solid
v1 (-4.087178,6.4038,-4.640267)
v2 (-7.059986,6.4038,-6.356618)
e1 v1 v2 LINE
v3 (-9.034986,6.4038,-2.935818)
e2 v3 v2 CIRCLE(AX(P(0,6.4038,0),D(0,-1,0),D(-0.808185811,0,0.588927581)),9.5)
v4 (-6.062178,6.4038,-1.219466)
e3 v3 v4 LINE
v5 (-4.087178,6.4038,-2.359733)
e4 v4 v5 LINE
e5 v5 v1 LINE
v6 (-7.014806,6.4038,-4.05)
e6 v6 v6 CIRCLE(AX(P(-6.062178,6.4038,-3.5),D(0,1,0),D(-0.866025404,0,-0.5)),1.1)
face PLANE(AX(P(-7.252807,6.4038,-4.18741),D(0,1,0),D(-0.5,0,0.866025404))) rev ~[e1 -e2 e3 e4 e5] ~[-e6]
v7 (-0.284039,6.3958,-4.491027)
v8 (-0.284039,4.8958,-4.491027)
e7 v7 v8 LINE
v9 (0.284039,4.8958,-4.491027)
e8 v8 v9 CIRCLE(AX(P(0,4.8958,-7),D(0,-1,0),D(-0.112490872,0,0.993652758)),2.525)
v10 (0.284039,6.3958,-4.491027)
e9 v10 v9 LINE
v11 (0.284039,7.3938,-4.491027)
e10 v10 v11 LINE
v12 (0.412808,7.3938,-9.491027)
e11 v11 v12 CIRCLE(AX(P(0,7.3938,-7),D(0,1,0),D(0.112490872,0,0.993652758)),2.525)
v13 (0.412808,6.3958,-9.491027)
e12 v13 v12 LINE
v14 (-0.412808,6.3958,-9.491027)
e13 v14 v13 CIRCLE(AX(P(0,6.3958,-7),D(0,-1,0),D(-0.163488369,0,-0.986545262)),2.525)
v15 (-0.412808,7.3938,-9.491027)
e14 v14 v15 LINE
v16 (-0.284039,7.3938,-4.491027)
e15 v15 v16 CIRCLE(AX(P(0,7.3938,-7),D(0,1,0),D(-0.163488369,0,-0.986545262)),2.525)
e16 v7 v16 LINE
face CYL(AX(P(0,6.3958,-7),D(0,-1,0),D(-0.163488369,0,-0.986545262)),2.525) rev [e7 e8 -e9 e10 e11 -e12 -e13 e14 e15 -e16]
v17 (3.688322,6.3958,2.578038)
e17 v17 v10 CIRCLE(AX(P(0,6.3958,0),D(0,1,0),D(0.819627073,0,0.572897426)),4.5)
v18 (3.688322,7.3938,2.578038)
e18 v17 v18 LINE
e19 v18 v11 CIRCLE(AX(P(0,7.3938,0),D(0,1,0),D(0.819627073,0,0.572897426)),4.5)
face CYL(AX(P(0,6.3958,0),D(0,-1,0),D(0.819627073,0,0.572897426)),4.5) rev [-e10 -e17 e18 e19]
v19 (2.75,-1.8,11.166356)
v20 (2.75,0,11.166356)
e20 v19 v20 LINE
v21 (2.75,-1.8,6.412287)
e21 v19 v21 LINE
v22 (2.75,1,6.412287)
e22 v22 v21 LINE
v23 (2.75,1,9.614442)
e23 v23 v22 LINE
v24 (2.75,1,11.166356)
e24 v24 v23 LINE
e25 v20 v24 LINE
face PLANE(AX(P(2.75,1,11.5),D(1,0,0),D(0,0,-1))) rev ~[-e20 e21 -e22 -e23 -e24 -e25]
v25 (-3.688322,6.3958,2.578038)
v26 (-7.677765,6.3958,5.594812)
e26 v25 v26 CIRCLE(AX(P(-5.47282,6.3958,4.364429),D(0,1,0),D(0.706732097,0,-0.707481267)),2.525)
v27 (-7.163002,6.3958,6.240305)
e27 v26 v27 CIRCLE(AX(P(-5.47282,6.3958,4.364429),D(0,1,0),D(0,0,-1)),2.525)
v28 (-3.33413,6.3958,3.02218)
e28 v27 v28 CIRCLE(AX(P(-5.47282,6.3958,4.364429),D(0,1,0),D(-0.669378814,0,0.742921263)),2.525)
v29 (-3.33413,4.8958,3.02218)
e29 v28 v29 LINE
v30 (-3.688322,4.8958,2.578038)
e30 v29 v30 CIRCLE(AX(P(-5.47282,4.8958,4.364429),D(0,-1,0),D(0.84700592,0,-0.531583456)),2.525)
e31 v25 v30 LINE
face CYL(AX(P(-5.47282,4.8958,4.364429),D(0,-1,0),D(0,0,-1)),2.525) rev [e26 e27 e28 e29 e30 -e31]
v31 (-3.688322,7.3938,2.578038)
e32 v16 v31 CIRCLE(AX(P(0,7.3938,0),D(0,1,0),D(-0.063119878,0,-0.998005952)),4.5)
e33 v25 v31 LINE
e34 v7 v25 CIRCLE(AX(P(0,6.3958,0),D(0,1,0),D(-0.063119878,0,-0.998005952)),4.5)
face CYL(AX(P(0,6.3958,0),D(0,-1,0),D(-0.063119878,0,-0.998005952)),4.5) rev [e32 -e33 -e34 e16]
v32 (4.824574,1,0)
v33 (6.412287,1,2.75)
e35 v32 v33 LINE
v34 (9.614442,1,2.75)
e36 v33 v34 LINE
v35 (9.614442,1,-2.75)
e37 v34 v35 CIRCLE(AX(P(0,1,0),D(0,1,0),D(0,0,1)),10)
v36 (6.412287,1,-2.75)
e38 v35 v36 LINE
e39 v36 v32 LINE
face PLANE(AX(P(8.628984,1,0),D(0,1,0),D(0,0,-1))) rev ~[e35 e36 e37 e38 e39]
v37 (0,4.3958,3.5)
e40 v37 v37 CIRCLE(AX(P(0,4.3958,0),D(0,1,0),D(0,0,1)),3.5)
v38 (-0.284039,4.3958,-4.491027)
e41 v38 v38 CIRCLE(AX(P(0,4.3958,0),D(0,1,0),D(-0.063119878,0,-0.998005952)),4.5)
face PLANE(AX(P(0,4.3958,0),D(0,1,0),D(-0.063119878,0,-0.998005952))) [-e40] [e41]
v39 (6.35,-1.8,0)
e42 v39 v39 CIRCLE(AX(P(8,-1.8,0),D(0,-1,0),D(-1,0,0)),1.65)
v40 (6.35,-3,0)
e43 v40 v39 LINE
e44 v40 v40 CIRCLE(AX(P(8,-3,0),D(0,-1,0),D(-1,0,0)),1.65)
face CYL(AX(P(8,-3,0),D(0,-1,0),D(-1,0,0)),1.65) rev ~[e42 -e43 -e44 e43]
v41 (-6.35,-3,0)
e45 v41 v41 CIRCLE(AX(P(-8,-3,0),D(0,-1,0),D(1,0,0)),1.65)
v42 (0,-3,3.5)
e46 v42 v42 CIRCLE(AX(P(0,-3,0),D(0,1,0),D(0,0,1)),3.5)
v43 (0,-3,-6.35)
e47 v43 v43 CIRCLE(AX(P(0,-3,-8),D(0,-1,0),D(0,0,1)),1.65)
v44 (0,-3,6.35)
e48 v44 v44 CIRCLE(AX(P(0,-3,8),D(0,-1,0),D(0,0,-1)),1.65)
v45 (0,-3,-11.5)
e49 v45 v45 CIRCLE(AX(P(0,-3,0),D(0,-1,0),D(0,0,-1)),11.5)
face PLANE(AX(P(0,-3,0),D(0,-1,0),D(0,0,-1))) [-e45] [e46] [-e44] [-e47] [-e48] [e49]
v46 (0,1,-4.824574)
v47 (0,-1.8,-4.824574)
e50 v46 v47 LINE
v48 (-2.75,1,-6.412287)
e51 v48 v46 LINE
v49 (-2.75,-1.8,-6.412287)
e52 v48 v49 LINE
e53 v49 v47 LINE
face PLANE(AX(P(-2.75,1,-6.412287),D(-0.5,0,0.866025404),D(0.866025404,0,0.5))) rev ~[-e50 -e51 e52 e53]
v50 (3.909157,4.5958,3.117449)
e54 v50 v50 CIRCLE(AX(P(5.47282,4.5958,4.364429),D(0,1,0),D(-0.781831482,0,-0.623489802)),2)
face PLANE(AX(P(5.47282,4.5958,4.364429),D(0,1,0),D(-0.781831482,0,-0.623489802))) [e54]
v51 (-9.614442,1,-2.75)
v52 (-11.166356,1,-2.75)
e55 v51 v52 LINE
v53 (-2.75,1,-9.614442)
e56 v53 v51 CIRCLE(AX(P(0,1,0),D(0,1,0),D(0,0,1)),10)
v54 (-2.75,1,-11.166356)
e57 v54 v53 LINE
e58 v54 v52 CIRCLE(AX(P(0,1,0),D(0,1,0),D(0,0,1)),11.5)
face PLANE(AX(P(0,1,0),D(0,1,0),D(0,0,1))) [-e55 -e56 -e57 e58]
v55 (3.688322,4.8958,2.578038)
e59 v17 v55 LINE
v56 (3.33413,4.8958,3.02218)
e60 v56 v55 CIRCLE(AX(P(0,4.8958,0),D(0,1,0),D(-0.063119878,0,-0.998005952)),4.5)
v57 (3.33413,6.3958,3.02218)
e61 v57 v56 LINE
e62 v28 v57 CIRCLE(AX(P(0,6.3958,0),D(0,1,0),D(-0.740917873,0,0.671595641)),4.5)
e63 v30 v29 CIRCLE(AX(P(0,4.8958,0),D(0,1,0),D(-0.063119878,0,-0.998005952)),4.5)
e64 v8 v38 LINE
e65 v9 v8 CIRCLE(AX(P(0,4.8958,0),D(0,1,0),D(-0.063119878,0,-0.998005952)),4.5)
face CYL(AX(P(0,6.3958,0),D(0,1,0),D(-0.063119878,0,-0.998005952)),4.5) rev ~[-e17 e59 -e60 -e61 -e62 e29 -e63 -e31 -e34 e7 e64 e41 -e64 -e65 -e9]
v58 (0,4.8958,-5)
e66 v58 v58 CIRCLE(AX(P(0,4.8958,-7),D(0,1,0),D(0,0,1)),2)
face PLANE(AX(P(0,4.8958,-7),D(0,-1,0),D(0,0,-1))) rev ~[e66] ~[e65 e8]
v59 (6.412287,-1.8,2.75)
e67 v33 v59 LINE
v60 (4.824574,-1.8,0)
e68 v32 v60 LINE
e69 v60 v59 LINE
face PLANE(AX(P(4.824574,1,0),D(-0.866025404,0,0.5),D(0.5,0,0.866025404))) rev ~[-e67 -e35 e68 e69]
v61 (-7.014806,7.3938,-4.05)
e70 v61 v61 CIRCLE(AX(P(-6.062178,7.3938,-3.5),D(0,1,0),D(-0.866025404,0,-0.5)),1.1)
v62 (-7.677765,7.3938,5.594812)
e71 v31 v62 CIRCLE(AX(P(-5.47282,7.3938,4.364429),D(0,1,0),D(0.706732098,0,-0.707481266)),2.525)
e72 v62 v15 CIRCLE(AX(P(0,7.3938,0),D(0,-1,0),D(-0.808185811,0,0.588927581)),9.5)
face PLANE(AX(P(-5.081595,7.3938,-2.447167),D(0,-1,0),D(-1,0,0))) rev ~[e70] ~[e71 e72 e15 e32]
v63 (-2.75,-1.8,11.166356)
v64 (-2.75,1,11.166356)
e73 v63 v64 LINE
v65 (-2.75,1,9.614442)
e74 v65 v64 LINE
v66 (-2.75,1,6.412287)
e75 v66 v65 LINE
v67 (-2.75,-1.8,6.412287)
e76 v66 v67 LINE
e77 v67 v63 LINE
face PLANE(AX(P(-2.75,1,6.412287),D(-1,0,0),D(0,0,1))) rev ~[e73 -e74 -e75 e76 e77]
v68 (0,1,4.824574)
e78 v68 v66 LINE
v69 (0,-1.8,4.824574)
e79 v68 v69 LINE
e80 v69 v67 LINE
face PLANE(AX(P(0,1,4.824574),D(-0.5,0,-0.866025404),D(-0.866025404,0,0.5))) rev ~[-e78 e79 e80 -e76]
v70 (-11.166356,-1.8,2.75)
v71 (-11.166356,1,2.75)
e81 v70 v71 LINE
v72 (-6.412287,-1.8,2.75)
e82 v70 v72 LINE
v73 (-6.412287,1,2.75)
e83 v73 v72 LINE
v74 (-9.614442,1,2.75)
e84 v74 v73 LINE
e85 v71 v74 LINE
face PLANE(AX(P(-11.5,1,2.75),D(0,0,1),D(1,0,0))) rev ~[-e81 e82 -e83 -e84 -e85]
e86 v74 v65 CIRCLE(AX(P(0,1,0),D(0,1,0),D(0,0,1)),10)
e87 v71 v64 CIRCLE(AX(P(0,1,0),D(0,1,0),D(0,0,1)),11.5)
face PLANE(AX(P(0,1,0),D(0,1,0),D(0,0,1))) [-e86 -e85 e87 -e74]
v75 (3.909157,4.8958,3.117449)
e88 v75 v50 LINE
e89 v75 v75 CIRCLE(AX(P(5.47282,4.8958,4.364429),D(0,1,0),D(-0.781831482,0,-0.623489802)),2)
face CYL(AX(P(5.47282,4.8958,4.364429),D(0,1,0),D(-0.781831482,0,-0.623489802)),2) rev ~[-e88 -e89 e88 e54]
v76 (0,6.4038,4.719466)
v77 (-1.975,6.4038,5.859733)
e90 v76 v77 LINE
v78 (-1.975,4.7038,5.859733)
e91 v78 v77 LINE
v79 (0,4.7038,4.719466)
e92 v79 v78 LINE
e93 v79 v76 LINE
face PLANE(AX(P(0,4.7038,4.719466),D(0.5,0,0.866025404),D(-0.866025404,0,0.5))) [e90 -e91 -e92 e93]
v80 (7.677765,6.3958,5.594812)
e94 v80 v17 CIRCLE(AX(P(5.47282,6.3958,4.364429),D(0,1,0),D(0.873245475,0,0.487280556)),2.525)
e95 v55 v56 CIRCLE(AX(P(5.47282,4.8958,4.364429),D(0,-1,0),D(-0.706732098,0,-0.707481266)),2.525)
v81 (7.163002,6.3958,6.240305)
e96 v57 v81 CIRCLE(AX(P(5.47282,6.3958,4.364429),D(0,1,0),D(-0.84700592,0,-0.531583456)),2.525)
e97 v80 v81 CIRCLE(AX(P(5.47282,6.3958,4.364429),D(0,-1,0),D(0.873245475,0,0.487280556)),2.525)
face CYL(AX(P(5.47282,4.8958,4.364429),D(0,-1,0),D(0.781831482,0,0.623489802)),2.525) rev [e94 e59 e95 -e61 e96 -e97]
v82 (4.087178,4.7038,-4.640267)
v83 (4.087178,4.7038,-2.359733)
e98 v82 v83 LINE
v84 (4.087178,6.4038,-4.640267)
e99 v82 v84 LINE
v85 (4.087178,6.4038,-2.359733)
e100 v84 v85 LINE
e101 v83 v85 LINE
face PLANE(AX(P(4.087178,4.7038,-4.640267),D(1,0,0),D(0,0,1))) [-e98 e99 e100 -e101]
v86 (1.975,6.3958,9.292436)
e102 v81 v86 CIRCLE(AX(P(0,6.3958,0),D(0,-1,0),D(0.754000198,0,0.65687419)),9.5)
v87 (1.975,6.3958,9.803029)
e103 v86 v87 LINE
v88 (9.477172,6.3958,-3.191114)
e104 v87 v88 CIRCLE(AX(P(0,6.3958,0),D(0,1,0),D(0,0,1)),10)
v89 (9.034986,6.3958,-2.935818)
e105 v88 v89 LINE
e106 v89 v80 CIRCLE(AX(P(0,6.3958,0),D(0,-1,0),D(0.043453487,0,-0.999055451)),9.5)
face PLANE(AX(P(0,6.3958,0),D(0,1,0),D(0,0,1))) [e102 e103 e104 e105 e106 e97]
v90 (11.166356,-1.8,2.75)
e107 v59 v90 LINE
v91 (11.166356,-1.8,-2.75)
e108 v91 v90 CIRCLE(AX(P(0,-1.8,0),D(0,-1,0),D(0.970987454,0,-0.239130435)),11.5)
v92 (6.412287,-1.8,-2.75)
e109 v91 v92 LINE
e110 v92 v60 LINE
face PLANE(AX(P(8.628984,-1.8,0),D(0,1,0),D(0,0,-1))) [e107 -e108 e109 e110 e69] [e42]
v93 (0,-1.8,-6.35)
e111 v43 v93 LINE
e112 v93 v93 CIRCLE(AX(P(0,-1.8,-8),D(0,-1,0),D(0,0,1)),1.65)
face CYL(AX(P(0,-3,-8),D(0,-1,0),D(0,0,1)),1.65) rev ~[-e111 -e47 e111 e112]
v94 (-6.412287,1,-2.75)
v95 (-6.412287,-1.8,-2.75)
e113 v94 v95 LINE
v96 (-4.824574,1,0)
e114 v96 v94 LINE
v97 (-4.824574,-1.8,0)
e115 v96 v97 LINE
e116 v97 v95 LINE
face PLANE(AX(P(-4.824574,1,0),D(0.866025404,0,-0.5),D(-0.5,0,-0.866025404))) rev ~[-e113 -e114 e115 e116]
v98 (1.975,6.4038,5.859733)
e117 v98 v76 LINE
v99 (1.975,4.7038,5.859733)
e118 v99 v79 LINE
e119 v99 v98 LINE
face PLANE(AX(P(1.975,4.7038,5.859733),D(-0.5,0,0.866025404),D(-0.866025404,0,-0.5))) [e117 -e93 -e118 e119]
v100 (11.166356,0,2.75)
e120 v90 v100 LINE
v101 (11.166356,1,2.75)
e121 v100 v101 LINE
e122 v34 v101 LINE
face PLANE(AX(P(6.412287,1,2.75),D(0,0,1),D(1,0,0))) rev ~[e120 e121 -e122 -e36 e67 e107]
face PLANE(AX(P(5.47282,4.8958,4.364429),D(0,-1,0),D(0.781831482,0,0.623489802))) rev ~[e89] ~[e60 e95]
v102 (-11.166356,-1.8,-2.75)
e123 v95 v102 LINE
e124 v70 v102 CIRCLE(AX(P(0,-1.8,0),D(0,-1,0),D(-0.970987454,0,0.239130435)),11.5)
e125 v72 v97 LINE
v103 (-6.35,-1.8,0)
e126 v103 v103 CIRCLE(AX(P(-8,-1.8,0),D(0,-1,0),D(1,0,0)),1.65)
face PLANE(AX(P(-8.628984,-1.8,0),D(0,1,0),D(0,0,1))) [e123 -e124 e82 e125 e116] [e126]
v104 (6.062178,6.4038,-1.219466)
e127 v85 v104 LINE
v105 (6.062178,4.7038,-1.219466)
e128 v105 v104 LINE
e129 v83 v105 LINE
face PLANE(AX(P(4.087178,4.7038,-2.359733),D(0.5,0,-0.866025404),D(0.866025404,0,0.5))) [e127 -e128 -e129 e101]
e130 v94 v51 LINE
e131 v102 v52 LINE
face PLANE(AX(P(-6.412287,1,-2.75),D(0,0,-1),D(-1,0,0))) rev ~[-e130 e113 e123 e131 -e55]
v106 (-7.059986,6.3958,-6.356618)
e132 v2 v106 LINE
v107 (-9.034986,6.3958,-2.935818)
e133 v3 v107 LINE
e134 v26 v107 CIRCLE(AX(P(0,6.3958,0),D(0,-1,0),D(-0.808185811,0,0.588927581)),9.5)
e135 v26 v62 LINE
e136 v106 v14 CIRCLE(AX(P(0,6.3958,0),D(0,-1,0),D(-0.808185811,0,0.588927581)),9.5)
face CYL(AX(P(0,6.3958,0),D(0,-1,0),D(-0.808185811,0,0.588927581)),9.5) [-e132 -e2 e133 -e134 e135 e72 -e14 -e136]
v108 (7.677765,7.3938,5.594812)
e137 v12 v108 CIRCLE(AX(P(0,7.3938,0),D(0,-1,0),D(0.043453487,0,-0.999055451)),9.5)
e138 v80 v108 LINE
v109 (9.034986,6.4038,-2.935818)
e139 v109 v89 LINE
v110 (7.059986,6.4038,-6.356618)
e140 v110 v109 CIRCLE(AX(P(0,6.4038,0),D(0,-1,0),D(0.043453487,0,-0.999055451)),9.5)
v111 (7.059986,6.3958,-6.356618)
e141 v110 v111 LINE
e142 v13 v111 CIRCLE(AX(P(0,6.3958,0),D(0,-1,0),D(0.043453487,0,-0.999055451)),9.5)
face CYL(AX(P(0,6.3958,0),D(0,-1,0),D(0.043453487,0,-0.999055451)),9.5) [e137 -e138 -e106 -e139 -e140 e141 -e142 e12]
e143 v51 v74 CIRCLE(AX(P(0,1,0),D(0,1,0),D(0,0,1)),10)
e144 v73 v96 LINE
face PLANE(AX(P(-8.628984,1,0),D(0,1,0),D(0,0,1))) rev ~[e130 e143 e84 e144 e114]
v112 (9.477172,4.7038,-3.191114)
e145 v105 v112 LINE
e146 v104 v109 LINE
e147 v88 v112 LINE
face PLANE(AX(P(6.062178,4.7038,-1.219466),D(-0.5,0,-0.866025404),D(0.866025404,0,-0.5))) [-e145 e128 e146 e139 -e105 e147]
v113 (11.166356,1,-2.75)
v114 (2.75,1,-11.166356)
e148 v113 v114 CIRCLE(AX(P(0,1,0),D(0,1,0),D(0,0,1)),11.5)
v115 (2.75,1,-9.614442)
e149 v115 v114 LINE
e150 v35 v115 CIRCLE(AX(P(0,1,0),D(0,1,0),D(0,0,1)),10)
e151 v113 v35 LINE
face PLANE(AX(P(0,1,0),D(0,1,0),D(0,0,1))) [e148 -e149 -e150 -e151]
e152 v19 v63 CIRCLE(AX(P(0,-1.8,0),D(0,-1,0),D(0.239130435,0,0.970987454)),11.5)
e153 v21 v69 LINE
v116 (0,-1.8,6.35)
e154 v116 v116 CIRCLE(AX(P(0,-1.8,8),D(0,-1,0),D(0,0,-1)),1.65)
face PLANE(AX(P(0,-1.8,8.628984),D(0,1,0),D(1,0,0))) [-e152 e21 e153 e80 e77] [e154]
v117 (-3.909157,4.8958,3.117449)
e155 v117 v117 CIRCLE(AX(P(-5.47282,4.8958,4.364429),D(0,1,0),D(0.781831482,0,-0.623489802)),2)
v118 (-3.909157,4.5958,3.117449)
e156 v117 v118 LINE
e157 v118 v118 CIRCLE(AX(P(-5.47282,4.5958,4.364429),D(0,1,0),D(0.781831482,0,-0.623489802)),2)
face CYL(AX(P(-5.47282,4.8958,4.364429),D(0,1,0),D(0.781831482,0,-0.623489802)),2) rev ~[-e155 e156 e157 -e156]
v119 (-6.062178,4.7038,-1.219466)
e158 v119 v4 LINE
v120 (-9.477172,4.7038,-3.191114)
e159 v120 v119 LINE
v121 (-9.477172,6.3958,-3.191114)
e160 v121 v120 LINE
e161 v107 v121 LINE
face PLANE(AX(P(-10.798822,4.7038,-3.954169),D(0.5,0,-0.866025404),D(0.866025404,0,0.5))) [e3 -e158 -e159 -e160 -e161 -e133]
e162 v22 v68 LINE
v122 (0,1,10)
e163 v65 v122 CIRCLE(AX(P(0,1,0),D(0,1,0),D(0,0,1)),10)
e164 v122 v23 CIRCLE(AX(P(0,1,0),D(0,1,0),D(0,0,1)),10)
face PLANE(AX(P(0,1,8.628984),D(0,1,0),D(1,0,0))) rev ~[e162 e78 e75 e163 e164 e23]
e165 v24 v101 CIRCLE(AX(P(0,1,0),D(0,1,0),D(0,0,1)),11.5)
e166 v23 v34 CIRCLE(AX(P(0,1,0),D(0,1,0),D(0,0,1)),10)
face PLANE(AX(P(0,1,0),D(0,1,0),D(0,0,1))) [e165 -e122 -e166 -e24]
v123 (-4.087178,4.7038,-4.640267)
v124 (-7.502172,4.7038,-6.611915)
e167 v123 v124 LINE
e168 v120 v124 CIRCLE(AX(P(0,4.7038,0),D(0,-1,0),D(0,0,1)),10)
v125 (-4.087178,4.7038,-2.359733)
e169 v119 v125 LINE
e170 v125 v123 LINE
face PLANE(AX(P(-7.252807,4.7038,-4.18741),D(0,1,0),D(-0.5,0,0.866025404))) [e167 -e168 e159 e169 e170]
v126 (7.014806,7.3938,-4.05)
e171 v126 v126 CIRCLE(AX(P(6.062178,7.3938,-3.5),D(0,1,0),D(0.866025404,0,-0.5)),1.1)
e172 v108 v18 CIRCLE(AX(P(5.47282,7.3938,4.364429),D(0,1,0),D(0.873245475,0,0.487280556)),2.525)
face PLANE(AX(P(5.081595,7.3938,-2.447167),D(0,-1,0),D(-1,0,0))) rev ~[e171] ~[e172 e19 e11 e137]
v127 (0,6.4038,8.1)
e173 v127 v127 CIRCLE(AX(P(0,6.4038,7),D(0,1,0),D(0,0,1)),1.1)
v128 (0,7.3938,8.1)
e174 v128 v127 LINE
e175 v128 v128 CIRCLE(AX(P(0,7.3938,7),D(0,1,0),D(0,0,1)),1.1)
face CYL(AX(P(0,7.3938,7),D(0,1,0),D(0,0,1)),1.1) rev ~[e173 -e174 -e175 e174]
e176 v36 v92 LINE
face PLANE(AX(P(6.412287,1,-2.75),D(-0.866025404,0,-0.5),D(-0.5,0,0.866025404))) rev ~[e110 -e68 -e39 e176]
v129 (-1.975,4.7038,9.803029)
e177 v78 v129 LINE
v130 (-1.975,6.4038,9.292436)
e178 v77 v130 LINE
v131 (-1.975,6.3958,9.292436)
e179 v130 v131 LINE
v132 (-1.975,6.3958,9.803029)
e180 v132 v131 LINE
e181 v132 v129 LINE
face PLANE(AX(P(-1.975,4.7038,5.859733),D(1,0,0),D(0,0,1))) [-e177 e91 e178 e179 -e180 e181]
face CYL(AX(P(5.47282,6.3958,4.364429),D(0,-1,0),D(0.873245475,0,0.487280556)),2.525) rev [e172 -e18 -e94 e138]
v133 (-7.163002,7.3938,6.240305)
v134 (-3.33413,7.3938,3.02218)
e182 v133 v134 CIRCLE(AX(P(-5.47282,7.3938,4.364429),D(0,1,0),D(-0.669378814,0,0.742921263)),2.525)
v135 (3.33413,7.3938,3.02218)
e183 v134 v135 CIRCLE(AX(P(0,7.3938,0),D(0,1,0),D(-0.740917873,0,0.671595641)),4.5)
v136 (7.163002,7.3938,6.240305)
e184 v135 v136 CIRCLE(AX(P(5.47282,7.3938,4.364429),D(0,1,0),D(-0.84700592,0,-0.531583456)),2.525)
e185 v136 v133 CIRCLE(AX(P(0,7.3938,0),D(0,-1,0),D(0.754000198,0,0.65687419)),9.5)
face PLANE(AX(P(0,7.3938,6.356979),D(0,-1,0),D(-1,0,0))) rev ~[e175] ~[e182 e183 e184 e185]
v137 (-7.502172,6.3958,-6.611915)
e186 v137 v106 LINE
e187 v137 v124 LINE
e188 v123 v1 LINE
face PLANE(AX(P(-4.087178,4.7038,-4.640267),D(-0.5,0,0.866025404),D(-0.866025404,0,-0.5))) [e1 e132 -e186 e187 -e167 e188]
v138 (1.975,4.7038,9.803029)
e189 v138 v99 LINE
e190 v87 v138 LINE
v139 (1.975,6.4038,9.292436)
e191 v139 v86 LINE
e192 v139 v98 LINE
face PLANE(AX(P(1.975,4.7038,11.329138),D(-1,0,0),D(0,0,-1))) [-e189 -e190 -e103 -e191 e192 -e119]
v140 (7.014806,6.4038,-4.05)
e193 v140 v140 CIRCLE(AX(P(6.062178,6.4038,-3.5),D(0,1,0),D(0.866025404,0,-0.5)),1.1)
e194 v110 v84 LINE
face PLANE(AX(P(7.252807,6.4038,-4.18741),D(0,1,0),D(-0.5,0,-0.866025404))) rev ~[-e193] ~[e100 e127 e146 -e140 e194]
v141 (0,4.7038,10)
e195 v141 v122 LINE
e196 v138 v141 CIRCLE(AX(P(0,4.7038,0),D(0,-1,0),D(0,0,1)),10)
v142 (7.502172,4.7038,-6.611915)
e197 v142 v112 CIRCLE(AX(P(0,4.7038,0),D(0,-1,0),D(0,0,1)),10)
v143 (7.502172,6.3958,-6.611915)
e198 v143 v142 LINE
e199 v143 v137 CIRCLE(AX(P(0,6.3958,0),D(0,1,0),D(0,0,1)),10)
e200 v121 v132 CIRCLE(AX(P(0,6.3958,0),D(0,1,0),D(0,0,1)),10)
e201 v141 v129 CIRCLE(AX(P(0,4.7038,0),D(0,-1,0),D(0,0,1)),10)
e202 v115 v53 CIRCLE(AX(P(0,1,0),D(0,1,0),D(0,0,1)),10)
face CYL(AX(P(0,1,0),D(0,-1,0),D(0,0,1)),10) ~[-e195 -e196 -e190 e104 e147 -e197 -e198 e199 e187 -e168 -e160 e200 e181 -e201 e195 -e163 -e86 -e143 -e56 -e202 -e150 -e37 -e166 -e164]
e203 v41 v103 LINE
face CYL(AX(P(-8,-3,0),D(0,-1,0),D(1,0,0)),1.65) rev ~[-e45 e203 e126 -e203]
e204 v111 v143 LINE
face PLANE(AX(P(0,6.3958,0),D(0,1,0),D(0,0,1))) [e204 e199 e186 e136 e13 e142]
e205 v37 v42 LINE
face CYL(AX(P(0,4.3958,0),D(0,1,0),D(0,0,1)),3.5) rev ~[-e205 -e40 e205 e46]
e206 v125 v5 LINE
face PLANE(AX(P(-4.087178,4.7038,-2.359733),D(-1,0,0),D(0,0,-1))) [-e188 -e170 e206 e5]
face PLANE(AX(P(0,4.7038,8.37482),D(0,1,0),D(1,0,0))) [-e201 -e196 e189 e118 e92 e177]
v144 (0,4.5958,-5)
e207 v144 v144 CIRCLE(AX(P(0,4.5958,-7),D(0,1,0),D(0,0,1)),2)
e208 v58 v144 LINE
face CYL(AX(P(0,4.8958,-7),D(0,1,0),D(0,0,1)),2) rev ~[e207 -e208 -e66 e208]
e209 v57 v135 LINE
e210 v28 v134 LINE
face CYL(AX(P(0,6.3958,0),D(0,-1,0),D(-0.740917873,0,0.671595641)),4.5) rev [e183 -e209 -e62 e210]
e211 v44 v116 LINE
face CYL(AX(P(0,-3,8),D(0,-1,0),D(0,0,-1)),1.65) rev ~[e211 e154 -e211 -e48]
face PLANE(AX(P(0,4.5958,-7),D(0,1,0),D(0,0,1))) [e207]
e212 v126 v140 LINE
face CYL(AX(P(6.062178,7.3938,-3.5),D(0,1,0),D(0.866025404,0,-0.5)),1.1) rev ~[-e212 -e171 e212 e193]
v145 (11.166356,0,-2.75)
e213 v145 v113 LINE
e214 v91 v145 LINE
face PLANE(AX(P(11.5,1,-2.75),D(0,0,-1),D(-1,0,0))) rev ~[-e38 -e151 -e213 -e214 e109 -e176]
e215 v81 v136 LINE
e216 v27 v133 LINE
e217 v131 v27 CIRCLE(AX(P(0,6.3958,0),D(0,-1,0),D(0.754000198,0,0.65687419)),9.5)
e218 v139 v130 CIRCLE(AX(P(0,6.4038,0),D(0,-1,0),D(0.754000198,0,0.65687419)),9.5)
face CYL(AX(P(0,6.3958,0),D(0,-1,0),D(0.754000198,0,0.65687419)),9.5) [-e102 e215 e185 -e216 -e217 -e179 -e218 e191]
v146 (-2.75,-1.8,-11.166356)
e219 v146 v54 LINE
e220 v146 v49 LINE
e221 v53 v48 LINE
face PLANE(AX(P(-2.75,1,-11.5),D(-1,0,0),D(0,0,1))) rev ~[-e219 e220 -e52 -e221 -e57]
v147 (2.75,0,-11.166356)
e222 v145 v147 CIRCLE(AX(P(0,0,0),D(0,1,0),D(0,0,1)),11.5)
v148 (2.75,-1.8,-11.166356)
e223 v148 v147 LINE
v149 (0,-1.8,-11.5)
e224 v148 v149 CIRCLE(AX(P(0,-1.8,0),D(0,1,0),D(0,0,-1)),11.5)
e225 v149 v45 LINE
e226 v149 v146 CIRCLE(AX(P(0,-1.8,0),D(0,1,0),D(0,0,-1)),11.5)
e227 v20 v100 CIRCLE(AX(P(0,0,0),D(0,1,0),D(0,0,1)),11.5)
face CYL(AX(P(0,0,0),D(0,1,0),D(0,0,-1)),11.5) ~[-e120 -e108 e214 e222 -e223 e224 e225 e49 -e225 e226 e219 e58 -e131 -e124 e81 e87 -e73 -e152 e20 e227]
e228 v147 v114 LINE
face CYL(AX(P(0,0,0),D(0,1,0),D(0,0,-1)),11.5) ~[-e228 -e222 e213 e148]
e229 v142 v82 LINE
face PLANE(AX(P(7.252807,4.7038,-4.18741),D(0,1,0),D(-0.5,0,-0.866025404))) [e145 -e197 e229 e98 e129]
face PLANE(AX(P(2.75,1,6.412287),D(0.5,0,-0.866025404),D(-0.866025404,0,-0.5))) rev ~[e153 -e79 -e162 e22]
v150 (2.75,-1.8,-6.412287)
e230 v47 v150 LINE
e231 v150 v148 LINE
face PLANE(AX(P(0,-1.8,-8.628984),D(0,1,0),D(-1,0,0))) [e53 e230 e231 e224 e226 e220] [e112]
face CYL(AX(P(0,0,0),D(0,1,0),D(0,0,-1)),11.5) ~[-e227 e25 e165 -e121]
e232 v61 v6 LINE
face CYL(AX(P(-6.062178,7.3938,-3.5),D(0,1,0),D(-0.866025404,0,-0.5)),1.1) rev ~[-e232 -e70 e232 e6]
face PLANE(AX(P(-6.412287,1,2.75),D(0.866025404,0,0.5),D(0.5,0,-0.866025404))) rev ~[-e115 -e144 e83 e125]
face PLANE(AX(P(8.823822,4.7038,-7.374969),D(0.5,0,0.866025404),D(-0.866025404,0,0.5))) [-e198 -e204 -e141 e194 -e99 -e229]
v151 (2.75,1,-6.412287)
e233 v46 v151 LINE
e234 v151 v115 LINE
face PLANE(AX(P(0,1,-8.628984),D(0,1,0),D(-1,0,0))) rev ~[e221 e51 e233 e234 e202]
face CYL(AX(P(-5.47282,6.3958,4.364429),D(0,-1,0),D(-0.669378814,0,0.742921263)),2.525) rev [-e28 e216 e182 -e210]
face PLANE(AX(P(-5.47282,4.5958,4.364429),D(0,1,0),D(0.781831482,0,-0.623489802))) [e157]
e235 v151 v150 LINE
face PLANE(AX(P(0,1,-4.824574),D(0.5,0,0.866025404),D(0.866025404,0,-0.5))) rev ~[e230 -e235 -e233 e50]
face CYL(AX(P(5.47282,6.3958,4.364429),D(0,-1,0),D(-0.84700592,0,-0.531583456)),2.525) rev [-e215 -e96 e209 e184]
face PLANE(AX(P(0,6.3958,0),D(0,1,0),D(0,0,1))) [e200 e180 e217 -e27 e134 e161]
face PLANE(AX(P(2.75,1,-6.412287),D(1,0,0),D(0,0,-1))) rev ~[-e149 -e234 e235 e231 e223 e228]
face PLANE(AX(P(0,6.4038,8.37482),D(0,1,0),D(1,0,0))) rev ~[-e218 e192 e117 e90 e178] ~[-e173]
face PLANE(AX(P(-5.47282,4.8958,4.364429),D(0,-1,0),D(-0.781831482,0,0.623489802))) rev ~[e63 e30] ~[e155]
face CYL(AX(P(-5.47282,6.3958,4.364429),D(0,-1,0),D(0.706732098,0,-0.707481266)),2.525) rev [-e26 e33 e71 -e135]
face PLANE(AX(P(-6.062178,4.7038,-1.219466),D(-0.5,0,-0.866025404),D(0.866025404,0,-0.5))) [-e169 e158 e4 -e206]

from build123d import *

# Parameters (mm, degrees)
SKETCH2_R           = 11.5
BOSS_EXTRUDE1_DEPTH = 1
SKETCH3_R           = 10
BOSS_EXTRUDE2_DEPTH = 4
SKETCH4_R           = 2.525
CUT_EXTRUDE1_DEPTH  = 17.984370982
SKETCH5_R           = 2
CUT_EXTRUDE2_DEPTH  = 0.3
CIRPATTERN1_COUNT   = 14
SKETCH7_R           = 10
SKETCH7_R_2         = 2.525
BOSS_EXTRUDE4_DEPTH = 1.5
BOSS_EXTRUDE3_DEPTH = 0.998
SKETCH8_R           = 1.1
CUT_EXTRUDE3_DEPTH  = 2.69
CUT_EXTRUDE4_DEPTH  = 1.7
CIRPATTERN2_COUNT   = 3
SKETCH11_R          = 11.5
BOSS_EXTRUDE5_DEPTH = 3
SKETCH12_R          = 1.65
CUT_EXTRUDE5_DEPTH  = 4
CUT_EXTRUDE6_DEPTH  = 2.8
CIRPATTERN3_COUNT   = 4
SKETCH16_R          = 4.5
CUT_EXTRUDE9_DEPTH  = 2
SKETCH17_R          = 3.5
CUT_EXTRUDE10_DEPTH = 18.866109191


with BuildPart() as part:
    # Sketch2 → Boss-Extrude1 (new body)
    with BuildSketch(Plane(origin=(0, 0, 0), x_dir=(1, 0, 0), z_dir=(0, 1, 0))):
        with Locations(Location((0, 0, 0), (0, 0, 270))):
            Circle(SKETCH2_R)
    extrude(amount=BOSS_EXTRUDE1_DEPTH)

    # Sketch3 → Boss-Extrude2 (add)
    with BuildSketch(Plane(origin=(0, 1, 0), x_dir=(1, 0, 0), z_dir=(0, 1, 0))):
        with Locations(Location((0, 0, 0), (0, 0, 270))):
            Circle(SKETCH3_R)
    extrude(amount=BOSS_EXTRUDE2_DEPTH)

    # Sketch4 → Cut-Extrude1 (cut, through all)
    with BuildSketch(Plane(origin=(0, 4.8958, 0), x_dir=(-1, 0, 0), z_dir=(0, -1, 0))):
        with Locations(Location((0, 7, 0), (0, 0, 90))):
            Circle(SKETCH4_R)
    cut_extrude1 = extrude(amount=-CUT_EXTRUDE1_DEPTH, mode=Mode.SUBTRACT)

    # Sketch5 → Cut-Extrude2 (cut)
    with BuildSketch(Plane(origin=(0, 4.8958, 0), x_dir=(1, 0, 0), z_dir=(0, 1, 0))):
        with Locations(Location((0, 7, 0), (0, 0, 270))):
            Circle(SKETCH5_R)
    cut_extrude2 = extrude(amount=-CUT_EXTRUDE2_DEPTH, mode=Mode.SUBTRACT)

    # CirPattern1: Cut-Extrude1, Cut-Extrude2 ×14 about axis, 11 skipped
    cirpattern1_axis = Axis((0, 5, 0), (0, -1, 0))
    add([cut_extrude1.rotate(cirpattern1_axis, i * 360 / CIRPATTERN1_COUNT) for i in range(1, CIRPATTERN1_COUNT) if i not in (1, 2, 3, 4, 6, 7, 8, 10, 11, 12, 13)], mode=Mode.SUBTRACT)
    add([cut_extrude2.rotate(cirpattern1_axis, i * 360 / CIRPATTERN1_COUNT) for i in range(1, CIRPATTERN1_COUNT) if i not in (1, 2, 3, 4, 6, 7, 8, 10, 11, 12, 13)], mode=Mode.SUBTRACT)

    # Sketch7 → Boss-Extrude4 (add)
    with BuildSketch(Plane(origin=(0, 4.8958, 0), x_dir=(1, 0, 0), z_dir=(0, 1, 0))):
        with Locations(Location((0, 0, 0), (0, 0, 270))):
            Circle(SKETCH7_R)
        with Locations(Location((5.472820377, -4.364428613, 0), (0, 0, 321.428571429))):
            Circle(SKETCH7_R_2, mode=Mode.SUBTRACT)
        with Locations(Location((-5.472820377, -4.364428613, 0), (0, 0, 90))):
            Circle(SKETCH7_R_2, mode=Mode.SUBTRACT)
        with Locations(Location((0, 7, 0), (0, 0, 90))):
            Circle(SKETCH7_R_2, mode=Mode.SUBTRACT)
    extrude(amount=BOSS_EXTRUDE4_DEPTH)

    # Sketch6 → Boss-Extrude3 (add)
    with BuildSketch(Plane(origin=(0, 6.3958, 0), x_dir=(1, 0, 0), z_dir=(0, 1, 0))):
        with BuildLine():
            ThreePointArc((-0.412808131, 9.491026786), (-2.524163057, 6.934993371), (-0.284039451, 4.491026786))
            ThreePointArc((-0.284039451, 4.491026786), (-4.054359906, 1.952476826), (-3.688321831, -2.578038415))
            ThreePointArc((-3.688321831, -2.578038415), (-6.995786073, -2.350427498), (-7.677765202, -5.594812017))
            ThreePointArc((-7.677765202, -5.594812017), (-8.559204245, 4.121895522), (-0.412808131, 9.491026786))
        make_face()
        with BuildLine():
            ThreePointArc((3.334130428, -3.022180386), (3.848206224, -6.297367788), (7.163001882, -6.240304803))
            ThreePointArc((7.163001882, -6.240304803), (0, -9.5), (-7.163001882, -6.240304803))
            ThreePointArc((-7.163001882, -6.240304803), (-3.848206224, -6.297367788), (-3.334130428, -3.022180386))
            ThreePointArc((-3.334130428, -3.022180386), (0, -4.5), (3.334130428, -3.022180386))
        make_face()
        with BuildLine():
            ThreePointArc((0.284039451, 4.491026786), (2.524163057, 6.934993371), (0.412808131, 9.491026786))
            ThreePointArc((0.412808131, 9.491026786), (8.559204245, 4.121895522), (7.677765202, -5.594812017))
            ThreePointArc((7.677765202, -5.594812017), (6.995786073, -2.350427498), (3.688321831, -2.578038415))
            ThreePointArc((3.688321831, -2.578038415), (4.054359906, 1.952476826), (0.284039451, 4.491026786))
        make_face()
    extrude(amount=BOSS_EXTRUDE3_DEPTH)

    # Sketch8 → Cut-Extrude3 (cut)
    with BuildSketch(Plane(origin=(0, 7.3938, 0), x_dir=(1, 0, 0), z_dir=(0, 1, 0))):
        with Locations(Location((0, -7, 0), (0, 0, 270))):
            Circle(SKETCH8_R)
    cut_extrude3 = extrude(amount=-CUT_EXTRUDE3_DEPTH, mode=Mode.SUBTRACT)

    # Sketch9 → Cut-Extrude4 (cut)
    with BuildSketch(Plane(origin=(0, 4.7038, 0), x_dir=(1, 0, 0), z_dir=(0, 1, 0))):
        Polygon((-1.975, -8.140266782), (-1.975, -11.329138317), (1.975, -11.329138317), (1.975, -8.140266782), (1.975, -5.859733218), (0, -4.719466437), (-1.975, -5.859733218), align=None)
    cut_extrude4 = extrude(amount=CUT_EXTRUDE4_DEPTH, mode=Mode.SUBTRACT)

    # CirPattern2: Cut-Extrude3, Cut-Extrude4 ×3 about axis
    cirpattern2_axis = Axis((0, 0, 0), (0, 1, 0))
    add([cut_extrude3.rotate(cirpattern2_axis, i * 360 / CIRPATTERN2_COUNT) for i in range(1, CIRPATTERN2_COUNT)], mode=Mode.SUBTRACT)
    add([cut_extrude4.rotate(cirpattern2_axis, i * 360 / CIRPATTERN2_COUNT) for i in range(1, CIRPATTERN2_COUNT)], mode=Mode.SUBTRACT)

    # Sketch11 → Boss-Extrude5 (add)
    with BuildSketch(Plane.XZ):
        with Locations(Location((0, 0, 0), (0, 0, 270))):
            Circle(SKETCH11_R)
    extrude(amount=BOSS_EXTRUDE5_DEPTH)

    # Sketch12 → Cut-Extrude5 (cut)
    with BuildSketch(Plane.XZ.offset(3)):
        with Locations(Location((0, 8, 0), (0, 0, 270))):
            Circle(SKETCH12_R)
    cut_extrude5 = extrude(amount=-CUT_EXTRUDE5_DEPTH, mode=Mode.SUBTRACT)

    # Sketch13 → Cut-Extrude6 (cut)
    with BuildSketch(Plane(origin=(0, 1, 0), x_dir=(1, 0, 0), z_dir=(0, 1, 0))):
        Polygon((-2.75, -9.58771324), (-2.75, -11.5), (2.75, -11.5), (2.75, -9.58771324), (2.75, -6.41228676), (0, -4.824573519), (-2.75, -6.41228676), align=None)
    cut_extrude6 = extrude(amount=-CUT_EXTRUDE6_DEPTH, mode=Mode.SUBTRACT)

    # CirPattern3: Cut-Extrude5, Cut-Extrude6 ×4 about axis
    cirpattern3_axis = Axis((0, 0, 0), (0, 1, 0))
    add([cut_extrude5.rotate(cirpattern3_axis, i * 360 / CIRPATTERN3_COUNT) for i in range(1, CIRPATTERN3_COUNT)], mode=Mode.SUBTRACT)
    add([cut_extrude6.rotate(cirpattern3_axis, i * 360 / CIRPATTERN3_COUNT) for i in range(1, CIRPATTERN3_COUNT)], mode=Mode.SUBTRACT)

    # Sketch16 → Cut-Extrude9 (cut)
    with BuildSketch(Plane(origin=(0, 6.3958, 0), x_dir=(1, 0, 0), z_dir=(0, 1, 0))):
        with Locations(Location((0, 0, 0), (0, 0, 93.618908364))):
            Circle(SKETCH16_R)
    extrude(amount=-CUT_EXTRUDE9_DEPTH, mode=Mode.SUBTRACT)

    # Sketch17 → Cut-Extrude10 (cut, through all)
    with BuildSketch(Plane(origin=(0, 4.3958, 0), x_dir=(1, 0, 0), z_dir=(0, 1, 0))):
        with Locations(Location((0, 0, 0), (0, 0, 270))):
            Circle(SKETCH17_R)
    extrude(amount=-CUT_EXTRUDE10_DEPTH, mode=Mode.SUBTRACT)


solid = part.part
